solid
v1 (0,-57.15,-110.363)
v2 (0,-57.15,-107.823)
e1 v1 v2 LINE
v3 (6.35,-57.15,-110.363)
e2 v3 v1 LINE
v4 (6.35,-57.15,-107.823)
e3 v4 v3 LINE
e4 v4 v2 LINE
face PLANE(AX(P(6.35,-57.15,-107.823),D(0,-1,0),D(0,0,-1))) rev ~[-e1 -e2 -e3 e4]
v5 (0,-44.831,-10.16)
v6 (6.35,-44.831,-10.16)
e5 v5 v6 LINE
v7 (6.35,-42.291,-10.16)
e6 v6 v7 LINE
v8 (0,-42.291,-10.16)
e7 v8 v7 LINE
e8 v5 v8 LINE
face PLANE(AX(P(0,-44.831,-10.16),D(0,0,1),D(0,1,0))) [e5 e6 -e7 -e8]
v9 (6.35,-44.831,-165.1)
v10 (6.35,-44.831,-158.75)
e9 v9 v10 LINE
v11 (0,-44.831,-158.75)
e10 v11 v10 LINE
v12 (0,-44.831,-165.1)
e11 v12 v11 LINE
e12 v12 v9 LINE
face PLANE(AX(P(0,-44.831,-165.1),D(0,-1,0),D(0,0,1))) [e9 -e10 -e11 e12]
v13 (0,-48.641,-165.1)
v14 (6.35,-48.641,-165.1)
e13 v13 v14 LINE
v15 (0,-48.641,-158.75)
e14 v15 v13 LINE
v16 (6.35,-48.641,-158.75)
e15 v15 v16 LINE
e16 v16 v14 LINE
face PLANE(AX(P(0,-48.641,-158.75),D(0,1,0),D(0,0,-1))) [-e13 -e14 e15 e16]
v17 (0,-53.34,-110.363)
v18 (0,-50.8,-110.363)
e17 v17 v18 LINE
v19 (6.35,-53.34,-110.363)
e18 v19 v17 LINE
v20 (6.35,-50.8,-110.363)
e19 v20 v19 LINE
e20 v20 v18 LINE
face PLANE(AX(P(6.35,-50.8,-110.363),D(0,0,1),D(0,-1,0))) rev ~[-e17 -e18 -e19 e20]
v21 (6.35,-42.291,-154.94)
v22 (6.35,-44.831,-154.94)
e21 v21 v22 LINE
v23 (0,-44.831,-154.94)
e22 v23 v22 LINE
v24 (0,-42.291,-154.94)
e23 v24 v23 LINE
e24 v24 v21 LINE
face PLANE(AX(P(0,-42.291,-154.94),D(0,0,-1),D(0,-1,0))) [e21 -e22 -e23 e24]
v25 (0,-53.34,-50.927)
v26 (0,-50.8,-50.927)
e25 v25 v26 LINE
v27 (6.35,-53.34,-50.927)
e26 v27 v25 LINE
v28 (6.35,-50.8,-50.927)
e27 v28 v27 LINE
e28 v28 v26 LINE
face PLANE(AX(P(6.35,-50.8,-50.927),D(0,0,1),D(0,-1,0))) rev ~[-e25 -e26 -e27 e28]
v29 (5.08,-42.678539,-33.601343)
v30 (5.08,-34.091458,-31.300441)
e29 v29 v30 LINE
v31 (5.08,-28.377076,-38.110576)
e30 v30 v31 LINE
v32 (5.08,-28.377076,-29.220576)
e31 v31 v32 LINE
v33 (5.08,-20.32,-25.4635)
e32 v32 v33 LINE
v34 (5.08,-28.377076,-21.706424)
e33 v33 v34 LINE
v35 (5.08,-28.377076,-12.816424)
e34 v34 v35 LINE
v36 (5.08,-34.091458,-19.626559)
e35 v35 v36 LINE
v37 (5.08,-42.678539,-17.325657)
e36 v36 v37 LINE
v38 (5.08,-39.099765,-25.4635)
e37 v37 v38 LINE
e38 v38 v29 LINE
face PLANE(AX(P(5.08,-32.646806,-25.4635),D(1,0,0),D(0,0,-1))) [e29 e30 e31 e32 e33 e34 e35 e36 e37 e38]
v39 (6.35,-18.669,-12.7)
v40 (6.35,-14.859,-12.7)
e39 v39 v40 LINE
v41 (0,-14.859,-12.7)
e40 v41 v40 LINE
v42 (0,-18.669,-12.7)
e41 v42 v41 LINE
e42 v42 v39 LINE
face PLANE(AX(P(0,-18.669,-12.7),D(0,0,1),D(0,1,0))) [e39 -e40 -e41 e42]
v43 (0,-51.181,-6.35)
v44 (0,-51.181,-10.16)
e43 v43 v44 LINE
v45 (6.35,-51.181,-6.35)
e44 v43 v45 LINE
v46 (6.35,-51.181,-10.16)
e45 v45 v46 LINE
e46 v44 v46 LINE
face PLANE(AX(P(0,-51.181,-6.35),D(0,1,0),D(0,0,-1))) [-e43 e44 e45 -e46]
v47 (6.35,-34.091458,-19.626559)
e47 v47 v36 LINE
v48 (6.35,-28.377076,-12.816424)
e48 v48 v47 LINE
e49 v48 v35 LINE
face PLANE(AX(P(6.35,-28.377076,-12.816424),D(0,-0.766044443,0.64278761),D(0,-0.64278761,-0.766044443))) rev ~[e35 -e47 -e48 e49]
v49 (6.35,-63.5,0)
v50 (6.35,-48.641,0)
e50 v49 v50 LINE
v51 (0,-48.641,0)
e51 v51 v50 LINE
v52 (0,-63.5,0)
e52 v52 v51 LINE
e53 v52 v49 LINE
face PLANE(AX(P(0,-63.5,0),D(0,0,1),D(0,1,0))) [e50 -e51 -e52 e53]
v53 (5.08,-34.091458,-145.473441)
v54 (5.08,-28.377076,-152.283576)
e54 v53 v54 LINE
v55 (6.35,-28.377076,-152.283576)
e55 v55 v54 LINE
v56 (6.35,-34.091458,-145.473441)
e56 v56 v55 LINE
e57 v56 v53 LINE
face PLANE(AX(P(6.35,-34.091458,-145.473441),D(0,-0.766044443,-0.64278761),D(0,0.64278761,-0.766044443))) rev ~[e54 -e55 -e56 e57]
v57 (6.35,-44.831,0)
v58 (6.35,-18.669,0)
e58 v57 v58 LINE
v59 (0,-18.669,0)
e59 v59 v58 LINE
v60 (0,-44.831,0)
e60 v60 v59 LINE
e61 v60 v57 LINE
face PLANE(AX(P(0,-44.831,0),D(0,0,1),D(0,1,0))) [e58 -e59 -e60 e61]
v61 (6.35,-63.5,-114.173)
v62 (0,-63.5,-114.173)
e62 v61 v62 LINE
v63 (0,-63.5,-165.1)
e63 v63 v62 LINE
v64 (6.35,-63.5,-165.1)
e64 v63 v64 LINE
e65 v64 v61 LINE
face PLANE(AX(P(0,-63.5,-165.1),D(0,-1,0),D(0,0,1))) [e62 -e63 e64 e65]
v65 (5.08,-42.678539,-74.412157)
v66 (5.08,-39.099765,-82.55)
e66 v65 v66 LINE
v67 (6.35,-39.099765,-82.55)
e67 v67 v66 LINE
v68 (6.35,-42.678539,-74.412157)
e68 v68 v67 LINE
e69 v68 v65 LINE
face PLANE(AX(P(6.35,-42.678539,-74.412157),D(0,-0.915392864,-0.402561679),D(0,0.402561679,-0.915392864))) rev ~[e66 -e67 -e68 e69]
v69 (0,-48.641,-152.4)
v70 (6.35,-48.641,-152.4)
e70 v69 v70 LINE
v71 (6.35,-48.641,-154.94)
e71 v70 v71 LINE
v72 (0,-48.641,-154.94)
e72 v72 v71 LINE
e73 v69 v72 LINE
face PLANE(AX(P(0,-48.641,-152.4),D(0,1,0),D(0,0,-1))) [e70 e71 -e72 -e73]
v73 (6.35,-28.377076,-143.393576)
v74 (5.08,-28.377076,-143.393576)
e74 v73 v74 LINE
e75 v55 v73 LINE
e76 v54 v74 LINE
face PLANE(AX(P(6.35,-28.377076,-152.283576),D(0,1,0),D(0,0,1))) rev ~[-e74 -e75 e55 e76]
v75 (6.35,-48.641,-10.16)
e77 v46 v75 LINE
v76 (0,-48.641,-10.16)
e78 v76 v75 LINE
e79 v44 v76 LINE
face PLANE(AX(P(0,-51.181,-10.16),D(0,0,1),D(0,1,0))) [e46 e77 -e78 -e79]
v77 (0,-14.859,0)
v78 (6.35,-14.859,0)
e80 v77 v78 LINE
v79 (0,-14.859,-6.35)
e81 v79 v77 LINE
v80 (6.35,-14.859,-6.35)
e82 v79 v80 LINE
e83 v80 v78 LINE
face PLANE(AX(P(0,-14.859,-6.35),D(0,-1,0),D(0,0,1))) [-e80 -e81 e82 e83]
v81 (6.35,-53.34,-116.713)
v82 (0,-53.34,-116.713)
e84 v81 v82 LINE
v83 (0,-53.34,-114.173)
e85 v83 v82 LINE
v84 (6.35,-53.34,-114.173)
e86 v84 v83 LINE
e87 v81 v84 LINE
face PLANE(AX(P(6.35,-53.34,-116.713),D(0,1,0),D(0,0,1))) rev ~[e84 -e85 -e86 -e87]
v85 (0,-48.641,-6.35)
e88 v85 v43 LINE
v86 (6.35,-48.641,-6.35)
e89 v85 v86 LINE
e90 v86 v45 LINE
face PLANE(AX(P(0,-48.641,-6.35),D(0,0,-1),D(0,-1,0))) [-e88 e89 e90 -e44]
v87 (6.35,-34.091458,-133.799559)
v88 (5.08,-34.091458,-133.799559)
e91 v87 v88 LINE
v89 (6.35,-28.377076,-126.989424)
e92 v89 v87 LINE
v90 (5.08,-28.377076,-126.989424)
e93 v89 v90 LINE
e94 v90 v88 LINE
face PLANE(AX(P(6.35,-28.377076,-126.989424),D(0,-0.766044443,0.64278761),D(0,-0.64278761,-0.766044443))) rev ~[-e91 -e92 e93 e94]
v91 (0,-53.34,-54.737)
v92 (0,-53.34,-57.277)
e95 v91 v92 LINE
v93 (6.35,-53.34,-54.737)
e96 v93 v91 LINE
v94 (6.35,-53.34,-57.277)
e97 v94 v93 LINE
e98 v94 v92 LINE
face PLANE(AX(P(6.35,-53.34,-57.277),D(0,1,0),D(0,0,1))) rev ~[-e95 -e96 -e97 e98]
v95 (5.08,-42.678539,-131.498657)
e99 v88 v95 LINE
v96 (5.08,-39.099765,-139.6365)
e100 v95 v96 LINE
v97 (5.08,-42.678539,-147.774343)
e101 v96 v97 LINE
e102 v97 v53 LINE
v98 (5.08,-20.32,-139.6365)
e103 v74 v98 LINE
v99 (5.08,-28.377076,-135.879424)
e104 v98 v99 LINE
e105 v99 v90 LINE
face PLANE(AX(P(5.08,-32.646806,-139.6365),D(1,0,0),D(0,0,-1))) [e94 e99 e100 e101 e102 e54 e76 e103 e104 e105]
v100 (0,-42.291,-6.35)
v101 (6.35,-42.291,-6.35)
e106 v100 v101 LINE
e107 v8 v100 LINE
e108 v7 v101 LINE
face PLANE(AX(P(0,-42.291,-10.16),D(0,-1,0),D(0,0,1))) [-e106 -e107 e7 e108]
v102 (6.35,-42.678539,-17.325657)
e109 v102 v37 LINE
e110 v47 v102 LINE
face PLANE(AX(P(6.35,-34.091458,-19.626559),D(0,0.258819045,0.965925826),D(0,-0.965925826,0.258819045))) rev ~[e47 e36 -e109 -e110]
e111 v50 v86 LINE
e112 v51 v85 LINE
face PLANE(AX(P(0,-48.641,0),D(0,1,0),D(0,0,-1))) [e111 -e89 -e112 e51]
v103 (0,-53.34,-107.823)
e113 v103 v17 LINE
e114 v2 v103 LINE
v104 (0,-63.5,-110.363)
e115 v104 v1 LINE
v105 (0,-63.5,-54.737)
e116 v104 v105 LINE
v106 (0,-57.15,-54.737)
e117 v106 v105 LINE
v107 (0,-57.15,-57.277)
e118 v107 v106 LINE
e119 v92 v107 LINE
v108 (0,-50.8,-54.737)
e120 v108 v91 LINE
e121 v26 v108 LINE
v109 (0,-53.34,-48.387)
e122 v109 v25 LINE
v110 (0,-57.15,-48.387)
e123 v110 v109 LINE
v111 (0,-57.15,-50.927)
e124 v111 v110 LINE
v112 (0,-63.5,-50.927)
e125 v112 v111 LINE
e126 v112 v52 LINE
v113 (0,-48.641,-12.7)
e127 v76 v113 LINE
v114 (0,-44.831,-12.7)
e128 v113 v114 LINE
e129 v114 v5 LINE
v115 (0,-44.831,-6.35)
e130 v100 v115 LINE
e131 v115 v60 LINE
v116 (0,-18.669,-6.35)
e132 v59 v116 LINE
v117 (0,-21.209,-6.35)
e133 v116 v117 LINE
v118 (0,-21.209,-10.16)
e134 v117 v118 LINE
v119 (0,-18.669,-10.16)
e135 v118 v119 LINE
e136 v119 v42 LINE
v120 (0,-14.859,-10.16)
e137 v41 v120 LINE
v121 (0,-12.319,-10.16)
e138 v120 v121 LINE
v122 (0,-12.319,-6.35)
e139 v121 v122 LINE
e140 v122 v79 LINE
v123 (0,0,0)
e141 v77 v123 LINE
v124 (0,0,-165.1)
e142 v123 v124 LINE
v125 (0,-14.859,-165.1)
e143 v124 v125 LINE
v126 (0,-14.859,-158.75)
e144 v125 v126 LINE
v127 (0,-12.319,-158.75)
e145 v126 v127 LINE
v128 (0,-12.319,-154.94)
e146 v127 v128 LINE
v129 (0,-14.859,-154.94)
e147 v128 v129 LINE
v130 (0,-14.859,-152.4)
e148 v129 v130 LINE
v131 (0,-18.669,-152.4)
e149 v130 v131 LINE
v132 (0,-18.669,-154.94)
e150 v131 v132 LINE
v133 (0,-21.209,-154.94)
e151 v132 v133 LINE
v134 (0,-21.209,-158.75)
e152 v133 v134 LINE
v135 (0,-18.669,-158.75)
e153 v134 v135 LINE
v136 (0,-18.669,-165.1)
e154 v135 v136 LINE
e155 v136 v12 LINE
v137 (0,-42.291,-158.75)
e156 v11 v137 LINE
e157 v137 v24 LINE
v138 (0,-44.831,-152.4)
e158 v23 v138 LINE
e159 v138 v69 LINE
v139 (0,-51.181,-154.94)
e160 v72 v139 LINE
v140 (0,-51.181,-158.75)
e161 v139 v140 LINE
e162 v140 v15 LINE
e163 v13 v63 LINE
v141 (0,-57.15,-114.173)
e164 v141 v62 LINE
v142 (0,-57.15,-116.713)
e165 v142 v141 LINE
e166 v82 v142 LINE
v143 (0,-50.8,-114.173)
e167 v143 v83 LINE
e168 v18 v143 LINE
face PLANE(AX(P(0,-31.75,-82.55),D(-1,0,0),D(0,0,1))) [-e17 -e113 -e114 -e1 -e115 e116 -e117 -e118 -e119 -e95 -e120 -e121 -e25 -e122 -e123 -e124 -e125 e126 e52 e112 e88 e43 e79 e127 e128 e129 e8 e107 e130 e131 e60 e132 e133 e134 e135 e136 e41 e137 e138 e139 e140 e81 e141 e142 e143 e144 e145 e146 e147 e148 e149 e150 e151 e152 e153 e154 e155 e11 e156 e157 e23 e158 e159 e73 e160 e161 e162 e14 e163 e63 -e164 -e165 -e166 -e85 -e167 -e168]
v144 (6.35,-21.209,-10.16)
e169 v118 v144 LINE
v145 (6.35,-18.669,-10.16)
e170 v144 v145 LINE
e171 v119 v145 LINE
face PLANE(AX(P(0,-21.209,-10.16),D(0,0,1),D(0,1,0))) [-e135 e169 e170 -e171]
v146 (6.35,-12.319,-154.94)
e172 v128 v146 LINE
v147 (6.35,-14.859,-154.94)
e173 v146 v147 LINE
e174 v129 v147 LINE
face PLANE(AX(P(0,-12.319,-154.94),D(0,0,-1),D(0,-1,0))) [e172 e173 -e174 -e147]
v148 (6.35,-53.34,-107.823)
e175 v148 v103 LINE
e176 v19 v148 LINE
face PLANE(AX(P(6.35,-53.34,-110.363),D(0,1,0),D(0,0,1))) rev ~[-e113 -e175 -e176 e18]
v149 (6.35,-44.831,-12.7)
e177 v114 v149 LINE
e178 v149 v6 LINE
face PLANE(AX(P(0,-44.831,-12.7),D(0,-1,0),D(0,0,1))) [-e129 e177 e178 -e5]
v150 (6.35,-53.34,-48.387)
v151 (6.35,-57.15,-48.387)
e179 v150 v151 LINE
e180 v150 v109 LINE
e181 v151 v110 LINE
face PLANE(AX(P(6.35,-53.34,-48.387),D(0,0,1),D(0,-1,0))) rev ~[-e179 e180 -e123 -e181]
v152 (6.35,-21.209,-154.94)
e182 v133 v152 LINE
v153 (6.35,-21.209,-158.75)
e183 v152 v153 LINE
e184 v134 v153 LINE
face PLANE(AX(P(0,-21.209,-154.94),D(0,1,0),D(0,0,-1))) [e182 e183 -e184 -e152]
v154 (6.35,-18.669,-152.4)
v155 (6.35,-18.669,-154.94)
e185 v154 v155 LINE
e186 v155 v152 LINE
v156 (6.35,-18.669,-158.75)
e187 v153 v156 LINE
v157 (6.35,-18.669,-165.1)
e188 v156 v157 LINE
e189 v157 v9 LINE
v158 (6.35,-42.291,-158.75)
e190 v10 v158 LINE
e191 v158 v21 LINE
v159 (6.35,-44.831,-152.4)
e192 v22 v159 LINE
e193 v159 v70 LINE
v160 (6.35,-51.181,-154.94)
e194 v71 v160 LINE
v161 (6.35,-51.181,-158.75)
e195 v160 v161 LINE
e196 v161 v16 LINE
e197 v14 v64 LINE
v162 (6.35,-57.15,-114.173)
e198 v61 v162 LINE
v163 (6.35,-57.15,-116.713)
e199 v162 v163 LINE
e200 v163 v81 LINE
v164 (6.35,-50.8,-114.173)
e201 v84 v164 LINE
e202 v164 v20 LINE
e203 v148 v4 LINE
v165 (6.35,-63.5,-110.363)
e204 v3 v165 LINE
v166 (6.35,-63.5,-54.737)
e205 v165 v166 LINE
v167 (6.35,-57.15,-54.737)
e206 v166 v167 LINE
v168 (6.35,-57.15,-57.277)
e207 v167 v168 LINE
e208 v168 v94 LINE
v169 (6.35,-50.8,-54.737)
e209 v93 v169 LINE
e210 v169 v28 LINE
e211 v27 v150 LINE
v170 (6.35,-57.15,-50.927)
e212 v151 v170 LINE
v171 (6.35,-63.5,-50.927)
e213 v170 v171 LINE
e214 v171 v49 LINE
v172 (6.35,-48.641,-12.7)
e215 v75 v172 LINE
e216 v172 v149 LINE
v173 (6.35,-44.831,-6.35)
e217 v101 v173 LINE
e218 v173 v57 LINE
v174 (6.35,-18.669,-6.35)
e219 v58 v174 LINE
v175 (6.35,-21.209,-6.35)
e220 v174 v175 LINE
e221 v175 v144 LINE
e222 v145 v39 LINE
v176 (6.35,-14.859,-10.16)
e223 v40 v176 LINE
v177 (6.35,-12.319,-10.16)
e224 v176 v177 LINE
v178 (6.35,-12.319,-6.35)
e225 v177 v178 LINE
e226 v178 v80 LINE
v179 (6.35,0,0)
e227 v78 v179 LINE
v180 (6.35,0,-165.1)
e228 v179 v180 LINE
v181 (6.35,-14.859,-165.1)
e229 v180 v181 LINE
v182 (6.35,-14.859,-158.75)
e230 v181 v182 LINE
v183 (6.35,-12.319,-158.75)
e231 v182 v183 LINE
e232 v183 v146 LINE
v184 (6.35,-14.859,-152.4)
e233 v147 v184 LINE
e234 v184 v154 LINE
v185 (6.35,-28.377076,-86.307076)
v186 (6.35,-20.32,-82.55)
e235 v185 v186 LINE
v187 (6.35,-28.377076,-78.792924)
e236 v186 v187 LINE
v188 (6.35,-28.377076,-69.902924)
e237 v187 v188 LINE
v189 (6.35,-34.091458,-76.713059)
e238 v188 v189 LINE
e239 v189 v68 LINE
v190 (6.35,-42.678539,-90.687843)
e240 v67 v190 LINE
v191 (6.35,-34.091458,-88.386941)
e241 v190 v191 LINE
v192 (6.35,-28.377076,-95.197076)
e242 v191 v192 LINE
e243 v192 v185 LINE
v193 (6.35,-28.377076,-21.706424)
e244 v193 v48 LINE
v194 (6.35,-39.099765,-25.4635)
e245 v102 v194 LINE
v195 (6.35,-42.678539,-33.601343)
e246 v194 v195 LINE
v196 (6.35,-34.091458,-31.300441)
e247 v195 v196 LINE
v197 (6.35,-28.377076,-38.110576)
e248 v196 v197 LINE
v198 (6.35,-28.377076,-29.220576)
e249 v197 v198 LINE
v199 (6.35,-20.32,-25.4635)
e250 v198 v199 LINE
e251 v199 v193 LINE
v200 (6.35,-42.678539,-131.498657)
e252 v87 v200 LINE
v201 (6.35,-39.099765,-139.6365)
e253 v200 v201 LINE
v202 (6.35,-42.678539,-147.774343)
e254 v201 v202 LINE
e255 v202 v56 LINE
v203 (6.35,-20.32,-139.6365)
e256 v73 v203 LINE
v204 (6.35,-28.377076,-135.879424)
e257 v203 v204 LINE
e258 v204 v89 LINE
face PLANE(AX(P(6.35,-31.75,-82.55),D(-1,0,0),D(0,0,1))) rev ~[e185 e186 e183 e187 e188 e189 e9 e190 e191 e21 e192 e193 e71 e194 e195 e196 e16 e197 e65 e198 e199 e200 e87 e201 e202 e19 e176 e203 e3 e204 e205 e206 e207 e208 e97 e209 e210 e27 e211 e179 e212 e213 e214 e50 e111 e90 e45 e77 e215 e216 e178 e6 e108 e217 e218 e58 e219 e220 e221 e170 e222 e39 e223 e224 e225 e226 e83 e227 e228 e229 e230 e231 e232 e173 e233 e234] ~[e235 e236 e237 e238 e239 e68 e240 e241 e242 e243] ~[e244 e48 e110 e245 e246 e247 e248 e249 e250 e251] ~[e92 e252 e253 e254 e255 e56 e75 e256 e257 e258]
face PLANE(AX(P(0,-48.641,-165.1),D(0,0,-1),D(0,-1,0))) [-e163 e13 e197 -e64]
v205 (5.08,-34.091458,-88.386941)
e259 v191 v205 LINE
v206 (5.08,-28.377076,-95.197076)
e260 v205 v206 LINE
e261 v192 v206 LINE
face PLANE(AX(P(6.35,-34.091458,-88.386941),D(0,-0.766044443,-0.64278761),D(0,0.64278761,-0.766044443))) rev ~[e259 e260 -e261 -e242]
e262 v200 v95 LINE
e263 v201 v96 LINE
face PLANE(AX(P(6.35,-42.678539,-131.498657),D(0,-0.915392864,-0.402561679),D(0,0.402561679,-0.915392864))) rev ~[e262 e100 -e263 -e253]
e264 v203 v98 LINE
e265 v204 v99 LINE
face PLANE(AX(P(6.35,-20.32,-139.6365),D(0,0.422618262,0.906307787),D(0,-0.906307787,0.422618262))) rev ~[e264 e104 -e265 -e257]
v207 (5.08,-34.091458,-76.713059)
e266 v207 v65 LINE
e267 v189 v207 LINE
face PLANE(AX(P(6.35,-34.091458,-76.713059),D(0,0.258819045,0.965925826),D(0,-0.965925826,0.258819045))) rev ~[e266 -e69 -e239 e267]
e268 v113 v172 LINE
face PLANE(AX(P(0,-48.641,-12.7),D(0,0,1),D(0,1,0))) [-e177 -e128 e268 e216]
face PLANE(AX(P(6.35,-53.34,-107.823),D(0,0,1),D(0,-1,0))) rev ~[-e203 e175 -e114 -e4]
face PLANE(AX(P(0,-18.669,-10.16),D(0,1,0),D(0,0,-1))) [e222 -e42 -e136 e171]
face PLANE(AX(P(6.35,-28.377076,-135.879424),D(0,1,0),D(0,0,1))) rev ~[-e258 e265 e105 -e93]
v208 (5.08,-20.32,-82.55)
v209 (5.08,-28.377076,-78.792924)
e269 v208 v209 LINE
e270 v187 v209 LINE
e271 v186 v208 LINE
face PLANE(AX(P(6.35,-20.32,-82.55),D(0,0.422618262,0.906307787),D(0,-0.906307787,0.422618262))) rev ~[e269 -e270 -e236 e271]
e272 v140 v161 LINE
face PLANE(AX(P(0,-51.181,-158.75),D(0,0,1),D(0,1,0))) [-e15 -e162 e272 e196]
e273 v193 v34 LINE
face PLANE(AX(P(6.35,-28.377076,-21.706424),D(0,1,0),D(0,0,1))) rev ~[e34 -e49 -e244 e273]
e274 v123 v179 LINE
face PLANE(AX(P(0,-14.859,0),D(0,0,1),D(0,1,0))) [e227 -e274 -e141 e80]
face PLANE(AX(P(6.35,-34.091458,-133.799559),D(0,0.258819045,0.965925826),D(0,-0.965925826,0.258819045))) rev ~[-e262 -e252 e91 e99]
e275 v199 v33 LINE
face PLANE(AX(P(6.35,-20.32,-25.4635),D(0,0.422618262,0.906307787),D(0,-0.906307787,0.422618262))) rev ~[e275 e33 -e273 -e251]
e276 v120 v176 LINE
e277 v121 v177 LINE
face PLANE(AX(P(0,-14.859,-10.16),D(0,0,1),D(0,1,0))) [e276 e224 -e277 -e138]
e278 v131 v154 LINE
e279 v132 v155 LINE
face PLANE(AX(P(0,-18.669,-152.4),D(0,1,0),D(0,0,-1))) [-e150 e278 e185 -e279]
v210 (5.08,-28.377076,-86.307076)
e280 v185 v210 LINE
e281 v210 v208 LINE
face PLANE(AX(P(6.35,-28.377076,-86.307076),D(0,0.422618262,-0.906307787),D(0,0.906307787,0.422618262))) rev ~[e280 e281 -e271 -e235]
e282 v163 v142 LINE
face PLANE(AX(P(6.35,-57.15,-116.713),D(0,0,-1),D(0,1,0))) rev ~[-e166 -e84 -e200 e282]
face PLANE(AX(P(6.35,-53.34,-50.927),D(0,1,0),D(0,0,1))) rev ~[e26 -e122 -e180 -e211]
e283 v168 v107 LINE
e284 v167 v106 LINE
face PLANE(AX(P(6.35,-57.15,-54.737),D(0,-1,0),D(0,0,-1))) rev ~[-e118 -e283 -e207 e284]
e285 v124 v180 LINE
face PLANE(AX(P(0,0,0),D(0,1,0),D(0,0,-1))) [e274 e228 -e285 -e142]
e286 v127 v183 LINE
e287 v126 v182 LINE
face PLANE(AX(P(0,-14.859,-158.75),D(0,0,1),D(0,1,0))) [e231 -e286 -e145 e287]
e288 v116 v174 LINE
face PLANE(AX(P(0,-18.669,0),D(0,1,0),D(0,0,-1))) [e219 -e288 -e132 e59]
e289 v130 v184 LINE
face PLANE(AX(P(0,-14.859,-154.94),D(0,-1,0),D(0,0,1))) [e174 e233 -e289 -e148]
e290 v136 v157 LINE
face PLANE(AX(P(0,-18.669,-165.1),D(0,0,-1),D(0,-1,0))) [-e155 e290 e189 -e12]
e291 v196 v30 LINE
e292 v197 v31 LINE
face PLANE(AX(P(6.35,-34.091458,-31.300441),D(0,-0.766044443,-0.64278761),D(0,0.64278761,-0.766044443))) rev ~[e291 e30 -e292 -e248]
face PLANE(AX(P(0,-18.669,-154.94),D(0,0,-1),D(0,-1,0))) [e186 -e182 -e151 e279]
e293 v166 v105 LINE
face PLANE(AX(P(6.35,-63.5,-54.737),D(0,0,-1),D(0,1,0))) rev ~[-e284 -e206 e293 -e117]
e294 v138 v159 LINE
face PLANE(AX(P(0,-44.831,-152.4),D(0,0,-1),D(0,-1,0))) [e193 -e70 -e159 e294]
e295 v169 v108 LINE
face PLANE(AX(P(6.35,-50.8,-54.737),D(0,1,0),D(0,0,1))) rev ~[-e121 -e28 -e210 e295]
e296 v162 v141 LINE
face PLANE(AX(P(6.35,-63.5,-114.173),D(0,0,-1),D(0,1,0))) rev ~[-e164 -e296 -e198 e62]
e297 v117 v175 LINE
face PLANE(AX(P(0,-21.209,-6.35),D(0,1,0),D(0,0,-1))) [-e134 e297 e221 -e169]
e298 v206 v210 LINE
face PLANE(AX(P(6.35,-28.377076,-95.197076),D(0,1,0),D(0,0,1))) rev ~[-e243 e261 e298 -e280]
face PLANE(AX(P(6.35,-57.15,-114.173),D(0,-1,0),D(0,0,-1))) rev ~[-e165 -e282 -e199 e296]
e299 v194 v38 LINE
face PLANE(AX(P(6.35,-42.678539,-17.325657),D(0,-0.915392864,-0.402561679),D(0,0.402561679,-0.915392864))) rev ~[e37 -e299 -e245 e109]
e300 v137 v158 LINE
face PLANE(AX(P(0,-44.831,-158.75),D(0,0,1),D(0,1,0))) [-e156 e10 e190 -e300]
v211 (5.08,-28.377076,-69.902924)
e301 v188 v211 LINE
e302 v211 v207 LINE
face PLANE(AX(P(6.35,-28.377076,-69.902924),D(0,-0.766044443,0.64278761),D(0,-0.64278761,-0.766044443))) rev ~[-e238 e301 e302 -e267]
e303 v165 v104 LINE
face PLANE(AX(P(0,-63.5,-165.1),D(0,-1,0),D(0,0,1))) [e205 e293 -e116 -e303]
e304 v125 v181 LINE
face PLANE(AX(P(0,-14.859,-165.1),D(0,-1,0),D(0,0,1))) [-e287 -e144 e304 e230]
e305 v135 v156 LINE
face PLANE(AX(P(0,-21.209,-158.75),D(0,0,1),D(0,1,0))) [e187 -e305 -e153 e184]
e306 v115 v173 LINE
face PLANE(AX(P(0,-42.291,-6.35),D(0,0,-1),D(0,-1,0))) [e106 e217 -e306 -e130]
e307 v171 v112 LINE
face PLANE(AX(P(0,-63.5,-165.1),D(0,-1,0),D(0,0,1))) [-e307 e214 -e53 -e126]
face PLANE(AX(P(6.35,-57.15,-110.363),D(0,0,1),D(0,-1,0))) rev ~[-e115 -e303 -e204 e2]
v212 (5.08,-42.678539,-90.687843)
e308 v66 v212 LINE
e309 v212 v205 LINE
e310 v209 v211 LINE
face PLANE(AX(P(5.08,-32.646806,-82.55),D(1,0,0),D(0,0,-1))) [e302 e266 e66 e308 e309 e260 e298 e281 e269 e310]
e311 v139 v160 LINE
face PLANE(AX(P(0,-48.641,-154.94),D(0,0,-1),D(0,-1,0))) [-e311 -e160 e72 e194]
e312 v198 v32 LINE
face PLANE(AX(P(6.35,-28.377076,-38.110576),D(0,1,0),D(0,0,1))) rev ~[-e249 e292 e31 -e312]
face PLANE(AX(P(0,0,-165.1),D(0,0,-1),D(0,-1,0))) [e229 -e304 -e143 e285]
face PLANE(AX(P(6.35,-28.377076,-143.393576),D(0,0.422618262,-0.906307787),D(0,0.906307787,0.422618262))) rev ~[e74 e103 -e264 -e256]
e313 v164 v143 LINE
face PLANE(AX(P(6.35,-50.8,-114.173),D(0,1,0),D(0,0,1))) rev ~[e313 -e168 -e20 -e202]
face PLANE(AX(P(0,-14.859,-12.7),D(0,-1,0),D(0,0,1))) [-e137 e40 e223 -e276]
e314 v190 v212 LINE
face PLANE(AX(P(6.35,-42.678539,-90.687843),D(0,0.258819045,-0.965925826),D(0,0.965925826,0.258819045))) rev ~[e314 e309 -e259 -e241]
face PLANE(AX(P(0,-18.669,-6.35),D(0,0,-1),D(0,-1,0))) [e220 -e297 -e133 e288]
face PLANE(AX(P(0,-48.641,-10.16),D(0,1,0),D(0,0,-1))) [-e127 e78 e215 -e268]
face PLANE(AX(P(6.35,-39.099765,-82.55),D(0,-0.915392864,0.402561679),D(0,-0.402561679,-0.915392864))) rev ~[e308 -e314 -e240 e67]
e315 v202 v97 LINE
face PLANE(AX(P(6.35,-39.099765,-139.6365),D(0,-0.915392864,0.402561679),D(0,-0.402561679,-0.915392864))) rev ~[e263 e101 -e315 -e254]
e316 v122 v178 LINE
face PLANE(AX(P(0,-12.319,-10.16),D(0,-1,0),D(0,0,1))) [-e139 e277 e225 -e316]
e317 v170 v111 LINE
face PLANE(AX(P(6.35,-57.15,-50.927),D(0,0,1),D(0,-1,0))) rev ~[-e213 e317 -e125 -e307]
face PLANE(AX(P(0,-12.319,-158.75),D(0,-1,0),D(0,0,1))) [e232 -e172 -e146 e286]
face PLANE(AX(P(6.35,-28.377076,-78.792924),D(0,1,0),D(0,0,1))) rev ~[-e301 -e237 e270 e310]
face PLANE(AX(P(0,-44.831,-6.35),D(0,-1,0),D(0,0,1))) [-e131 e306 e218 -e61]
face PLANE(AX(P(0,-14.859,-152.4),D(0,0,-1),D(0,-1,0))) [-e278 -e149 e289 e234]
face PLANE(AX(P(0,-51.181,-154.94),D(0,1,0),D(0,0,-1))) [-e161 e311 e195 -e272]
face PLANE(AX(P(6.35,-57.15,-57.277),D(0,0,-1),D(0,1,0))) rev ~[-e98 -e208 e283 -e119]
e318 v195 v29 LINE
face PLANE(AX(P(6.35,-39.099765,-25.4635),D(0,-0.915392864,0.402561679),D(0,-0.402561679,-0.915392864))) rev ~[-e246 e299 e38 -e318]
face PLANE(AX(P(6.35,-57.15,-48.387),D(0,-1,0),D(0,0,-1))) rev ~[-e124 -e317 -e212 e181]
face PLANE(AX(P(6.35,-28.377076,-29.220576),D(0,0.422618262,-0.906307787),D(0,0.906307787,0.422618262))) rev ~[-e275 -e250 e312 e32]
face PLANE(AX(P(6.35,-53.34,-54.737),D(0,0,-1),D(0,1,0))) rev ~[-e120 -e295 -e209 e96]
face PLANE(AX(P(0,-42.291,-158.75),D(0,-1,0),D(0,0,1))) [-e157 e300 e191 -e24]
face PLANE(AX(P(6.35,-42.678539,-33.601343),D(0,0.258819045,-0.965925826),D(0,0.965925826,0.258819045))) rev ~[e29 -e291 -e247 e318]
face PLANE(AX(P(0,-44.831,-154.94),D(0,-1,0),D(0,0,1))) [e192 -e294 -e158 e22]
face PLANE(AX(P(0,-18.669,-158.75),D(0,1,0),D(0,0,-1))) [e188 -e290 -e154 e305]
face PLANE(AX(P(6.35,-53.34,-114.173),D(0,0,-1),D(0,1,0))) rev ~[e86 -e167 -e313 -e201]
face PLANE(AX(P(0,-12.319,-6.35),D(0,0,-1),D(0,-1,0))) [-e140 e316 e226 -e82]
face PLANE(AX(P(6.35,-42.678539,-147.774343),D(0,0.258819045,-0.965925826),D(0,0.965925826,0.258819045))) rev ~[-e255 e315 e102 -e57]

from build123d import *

# Parameters (mm, degrees)
BOSS_EXTRUDE1_DEPTH = 6.35
CUT_EXTRUDE1_DEPTH  = 178.004470283
CUT_EXTRUDE2_DEPTH  = 1.27


with BuildPart() as part:
    # Sketch1 → Boss-Extrude1 (new body)
    with BuildSketch(Plane(origin=(0, 0, 0), x_dir=(0, 0, -1), z_dir=(1, 0, 0))):
        Polygon((0, 0), (165.1, 0), (165.1, -14.859), (158.75, -14.859), (158.75, -12.319), (154.94, -12.319), (154.94, -14.859), (152.4, -14.859), (152.4, -18.669), (154.94, -18.669), (154.94, -21.209), (158.75, -21.209), (158.75, -18.669), (165.1, -18.669), (165.1, -44.831), (158.75, -44.831), (158.75, -42.291), (154.94, -42.291), (154.94, -44.831), (152.4, -44.831), (152.4, -48.641), (154.94, -48.641), (154.94, -51.181), (158.75, -51.181), (158.75, -48.641), (165.1, -48.641), (165.1, -63.5), (0, -63.5), (0, -48.641), (6.35, -48.641), (6.35, -51.181), (10.16, -51.181), (10.16, -48.641), (12.7, -48.641), (12.7, -44.831), (10.16, -44.831), (10.16, -42.291), (6.35, -42.291), (6.35, -44.831), (0, -44.831), (0, -18.669), (6.35, -18.669), (6.35, -21.209), (10.16, -21.209), (10.16, -18.669), (12.7, -18.669), (12.7, -14.859), (10.16, -14.859), (10.16, -12.319), (6.35, -12.319), (6.35, -14.859), (0, -14.859), align=None)
    extrude(amount=BOSS_EXTRUDE1_DEPTH)

    # Sketch2 → Cut-Extrude1 (cut, through all)
    with BuildSketch(Plane(origin=(6.35, 0, 0), x_dir=(0, 0, -1), z_dir=(1, 0, 0))):
        Polygon((50.927, -63.5), (54.737, -63.5), (54.737, -57.15), (57.277, -57.15), (57.277, -53.34), (54.737, -53.34), (54.737, -50.8), (50.927, -50.8), (50.927, -53.34), (48.387, -53.34), (48.387, -57.15), (50.927, -57.15), align=None)
        Polygon((110.363, -63.5), (114.173, -63.5), (114.173, -57.15), (116.713, -57.15), (116.713, -53.34), (114.173, -53.34), (114.173, -50.8), (110.363, -50.8), (110.363, -53.34), (107.823, -53.34), (107.823, -57.15), (110.363, -57.15), align=None)
    extrude(amount=-CUT_EXTRUDE1_DEPTH, mode=Mode.SUBTRACT)

    # Sketch3 → Cut-Extrude2 (cut)
    with BuildSketch(Plane(origin=(6.35, 0, 0), x_dir=(0, 0, -1), z_dir=(1, 0, 0))):
        Polygon((82.55, -20.32), (78.792923653, -28.377076227), (69.902923653, -28.377076227), (76.713058752, -34.091458077), (74.412157441, -42.678538673), (82.55, -39.09976535), (90.687842559, -42.678538673), (88.386941248, -34.091458077), (95.197076347, -28.377076227), (86.307076347, -28.377076227), align=None)
        Polygon((25.4635, -20.32), (21.706423653, -28.377076227), (12.816423653, -28.377076227), (19.626558752, -34.091458077), (17.325657441, -42.678538673), (25.4635, -39.09976535), (33.601342559, -42.678538673), (31.300441248, -34.091458077), (38.110576347, -28.377076227), (29.220576347, -28.377076227), align=None)
        Polygon((139.6365, -20.32), (135.879423653, -28.377076227), (126.989423653, -28.377076227), (133.799558752, -34.091458077), (131.498657441, -42.678538673), (139.6365, -39.09976535), (147.774342559, -42.678538673), (145.473441248, -34.091458077), (152.283576347, -28.377076227), (143.393576347, -28.377076227), align=None)
    extrude(amount=-CUT_EXTRUDE2_DEPTH, mode=Mode.SUBTRACT)


solid = part.part
